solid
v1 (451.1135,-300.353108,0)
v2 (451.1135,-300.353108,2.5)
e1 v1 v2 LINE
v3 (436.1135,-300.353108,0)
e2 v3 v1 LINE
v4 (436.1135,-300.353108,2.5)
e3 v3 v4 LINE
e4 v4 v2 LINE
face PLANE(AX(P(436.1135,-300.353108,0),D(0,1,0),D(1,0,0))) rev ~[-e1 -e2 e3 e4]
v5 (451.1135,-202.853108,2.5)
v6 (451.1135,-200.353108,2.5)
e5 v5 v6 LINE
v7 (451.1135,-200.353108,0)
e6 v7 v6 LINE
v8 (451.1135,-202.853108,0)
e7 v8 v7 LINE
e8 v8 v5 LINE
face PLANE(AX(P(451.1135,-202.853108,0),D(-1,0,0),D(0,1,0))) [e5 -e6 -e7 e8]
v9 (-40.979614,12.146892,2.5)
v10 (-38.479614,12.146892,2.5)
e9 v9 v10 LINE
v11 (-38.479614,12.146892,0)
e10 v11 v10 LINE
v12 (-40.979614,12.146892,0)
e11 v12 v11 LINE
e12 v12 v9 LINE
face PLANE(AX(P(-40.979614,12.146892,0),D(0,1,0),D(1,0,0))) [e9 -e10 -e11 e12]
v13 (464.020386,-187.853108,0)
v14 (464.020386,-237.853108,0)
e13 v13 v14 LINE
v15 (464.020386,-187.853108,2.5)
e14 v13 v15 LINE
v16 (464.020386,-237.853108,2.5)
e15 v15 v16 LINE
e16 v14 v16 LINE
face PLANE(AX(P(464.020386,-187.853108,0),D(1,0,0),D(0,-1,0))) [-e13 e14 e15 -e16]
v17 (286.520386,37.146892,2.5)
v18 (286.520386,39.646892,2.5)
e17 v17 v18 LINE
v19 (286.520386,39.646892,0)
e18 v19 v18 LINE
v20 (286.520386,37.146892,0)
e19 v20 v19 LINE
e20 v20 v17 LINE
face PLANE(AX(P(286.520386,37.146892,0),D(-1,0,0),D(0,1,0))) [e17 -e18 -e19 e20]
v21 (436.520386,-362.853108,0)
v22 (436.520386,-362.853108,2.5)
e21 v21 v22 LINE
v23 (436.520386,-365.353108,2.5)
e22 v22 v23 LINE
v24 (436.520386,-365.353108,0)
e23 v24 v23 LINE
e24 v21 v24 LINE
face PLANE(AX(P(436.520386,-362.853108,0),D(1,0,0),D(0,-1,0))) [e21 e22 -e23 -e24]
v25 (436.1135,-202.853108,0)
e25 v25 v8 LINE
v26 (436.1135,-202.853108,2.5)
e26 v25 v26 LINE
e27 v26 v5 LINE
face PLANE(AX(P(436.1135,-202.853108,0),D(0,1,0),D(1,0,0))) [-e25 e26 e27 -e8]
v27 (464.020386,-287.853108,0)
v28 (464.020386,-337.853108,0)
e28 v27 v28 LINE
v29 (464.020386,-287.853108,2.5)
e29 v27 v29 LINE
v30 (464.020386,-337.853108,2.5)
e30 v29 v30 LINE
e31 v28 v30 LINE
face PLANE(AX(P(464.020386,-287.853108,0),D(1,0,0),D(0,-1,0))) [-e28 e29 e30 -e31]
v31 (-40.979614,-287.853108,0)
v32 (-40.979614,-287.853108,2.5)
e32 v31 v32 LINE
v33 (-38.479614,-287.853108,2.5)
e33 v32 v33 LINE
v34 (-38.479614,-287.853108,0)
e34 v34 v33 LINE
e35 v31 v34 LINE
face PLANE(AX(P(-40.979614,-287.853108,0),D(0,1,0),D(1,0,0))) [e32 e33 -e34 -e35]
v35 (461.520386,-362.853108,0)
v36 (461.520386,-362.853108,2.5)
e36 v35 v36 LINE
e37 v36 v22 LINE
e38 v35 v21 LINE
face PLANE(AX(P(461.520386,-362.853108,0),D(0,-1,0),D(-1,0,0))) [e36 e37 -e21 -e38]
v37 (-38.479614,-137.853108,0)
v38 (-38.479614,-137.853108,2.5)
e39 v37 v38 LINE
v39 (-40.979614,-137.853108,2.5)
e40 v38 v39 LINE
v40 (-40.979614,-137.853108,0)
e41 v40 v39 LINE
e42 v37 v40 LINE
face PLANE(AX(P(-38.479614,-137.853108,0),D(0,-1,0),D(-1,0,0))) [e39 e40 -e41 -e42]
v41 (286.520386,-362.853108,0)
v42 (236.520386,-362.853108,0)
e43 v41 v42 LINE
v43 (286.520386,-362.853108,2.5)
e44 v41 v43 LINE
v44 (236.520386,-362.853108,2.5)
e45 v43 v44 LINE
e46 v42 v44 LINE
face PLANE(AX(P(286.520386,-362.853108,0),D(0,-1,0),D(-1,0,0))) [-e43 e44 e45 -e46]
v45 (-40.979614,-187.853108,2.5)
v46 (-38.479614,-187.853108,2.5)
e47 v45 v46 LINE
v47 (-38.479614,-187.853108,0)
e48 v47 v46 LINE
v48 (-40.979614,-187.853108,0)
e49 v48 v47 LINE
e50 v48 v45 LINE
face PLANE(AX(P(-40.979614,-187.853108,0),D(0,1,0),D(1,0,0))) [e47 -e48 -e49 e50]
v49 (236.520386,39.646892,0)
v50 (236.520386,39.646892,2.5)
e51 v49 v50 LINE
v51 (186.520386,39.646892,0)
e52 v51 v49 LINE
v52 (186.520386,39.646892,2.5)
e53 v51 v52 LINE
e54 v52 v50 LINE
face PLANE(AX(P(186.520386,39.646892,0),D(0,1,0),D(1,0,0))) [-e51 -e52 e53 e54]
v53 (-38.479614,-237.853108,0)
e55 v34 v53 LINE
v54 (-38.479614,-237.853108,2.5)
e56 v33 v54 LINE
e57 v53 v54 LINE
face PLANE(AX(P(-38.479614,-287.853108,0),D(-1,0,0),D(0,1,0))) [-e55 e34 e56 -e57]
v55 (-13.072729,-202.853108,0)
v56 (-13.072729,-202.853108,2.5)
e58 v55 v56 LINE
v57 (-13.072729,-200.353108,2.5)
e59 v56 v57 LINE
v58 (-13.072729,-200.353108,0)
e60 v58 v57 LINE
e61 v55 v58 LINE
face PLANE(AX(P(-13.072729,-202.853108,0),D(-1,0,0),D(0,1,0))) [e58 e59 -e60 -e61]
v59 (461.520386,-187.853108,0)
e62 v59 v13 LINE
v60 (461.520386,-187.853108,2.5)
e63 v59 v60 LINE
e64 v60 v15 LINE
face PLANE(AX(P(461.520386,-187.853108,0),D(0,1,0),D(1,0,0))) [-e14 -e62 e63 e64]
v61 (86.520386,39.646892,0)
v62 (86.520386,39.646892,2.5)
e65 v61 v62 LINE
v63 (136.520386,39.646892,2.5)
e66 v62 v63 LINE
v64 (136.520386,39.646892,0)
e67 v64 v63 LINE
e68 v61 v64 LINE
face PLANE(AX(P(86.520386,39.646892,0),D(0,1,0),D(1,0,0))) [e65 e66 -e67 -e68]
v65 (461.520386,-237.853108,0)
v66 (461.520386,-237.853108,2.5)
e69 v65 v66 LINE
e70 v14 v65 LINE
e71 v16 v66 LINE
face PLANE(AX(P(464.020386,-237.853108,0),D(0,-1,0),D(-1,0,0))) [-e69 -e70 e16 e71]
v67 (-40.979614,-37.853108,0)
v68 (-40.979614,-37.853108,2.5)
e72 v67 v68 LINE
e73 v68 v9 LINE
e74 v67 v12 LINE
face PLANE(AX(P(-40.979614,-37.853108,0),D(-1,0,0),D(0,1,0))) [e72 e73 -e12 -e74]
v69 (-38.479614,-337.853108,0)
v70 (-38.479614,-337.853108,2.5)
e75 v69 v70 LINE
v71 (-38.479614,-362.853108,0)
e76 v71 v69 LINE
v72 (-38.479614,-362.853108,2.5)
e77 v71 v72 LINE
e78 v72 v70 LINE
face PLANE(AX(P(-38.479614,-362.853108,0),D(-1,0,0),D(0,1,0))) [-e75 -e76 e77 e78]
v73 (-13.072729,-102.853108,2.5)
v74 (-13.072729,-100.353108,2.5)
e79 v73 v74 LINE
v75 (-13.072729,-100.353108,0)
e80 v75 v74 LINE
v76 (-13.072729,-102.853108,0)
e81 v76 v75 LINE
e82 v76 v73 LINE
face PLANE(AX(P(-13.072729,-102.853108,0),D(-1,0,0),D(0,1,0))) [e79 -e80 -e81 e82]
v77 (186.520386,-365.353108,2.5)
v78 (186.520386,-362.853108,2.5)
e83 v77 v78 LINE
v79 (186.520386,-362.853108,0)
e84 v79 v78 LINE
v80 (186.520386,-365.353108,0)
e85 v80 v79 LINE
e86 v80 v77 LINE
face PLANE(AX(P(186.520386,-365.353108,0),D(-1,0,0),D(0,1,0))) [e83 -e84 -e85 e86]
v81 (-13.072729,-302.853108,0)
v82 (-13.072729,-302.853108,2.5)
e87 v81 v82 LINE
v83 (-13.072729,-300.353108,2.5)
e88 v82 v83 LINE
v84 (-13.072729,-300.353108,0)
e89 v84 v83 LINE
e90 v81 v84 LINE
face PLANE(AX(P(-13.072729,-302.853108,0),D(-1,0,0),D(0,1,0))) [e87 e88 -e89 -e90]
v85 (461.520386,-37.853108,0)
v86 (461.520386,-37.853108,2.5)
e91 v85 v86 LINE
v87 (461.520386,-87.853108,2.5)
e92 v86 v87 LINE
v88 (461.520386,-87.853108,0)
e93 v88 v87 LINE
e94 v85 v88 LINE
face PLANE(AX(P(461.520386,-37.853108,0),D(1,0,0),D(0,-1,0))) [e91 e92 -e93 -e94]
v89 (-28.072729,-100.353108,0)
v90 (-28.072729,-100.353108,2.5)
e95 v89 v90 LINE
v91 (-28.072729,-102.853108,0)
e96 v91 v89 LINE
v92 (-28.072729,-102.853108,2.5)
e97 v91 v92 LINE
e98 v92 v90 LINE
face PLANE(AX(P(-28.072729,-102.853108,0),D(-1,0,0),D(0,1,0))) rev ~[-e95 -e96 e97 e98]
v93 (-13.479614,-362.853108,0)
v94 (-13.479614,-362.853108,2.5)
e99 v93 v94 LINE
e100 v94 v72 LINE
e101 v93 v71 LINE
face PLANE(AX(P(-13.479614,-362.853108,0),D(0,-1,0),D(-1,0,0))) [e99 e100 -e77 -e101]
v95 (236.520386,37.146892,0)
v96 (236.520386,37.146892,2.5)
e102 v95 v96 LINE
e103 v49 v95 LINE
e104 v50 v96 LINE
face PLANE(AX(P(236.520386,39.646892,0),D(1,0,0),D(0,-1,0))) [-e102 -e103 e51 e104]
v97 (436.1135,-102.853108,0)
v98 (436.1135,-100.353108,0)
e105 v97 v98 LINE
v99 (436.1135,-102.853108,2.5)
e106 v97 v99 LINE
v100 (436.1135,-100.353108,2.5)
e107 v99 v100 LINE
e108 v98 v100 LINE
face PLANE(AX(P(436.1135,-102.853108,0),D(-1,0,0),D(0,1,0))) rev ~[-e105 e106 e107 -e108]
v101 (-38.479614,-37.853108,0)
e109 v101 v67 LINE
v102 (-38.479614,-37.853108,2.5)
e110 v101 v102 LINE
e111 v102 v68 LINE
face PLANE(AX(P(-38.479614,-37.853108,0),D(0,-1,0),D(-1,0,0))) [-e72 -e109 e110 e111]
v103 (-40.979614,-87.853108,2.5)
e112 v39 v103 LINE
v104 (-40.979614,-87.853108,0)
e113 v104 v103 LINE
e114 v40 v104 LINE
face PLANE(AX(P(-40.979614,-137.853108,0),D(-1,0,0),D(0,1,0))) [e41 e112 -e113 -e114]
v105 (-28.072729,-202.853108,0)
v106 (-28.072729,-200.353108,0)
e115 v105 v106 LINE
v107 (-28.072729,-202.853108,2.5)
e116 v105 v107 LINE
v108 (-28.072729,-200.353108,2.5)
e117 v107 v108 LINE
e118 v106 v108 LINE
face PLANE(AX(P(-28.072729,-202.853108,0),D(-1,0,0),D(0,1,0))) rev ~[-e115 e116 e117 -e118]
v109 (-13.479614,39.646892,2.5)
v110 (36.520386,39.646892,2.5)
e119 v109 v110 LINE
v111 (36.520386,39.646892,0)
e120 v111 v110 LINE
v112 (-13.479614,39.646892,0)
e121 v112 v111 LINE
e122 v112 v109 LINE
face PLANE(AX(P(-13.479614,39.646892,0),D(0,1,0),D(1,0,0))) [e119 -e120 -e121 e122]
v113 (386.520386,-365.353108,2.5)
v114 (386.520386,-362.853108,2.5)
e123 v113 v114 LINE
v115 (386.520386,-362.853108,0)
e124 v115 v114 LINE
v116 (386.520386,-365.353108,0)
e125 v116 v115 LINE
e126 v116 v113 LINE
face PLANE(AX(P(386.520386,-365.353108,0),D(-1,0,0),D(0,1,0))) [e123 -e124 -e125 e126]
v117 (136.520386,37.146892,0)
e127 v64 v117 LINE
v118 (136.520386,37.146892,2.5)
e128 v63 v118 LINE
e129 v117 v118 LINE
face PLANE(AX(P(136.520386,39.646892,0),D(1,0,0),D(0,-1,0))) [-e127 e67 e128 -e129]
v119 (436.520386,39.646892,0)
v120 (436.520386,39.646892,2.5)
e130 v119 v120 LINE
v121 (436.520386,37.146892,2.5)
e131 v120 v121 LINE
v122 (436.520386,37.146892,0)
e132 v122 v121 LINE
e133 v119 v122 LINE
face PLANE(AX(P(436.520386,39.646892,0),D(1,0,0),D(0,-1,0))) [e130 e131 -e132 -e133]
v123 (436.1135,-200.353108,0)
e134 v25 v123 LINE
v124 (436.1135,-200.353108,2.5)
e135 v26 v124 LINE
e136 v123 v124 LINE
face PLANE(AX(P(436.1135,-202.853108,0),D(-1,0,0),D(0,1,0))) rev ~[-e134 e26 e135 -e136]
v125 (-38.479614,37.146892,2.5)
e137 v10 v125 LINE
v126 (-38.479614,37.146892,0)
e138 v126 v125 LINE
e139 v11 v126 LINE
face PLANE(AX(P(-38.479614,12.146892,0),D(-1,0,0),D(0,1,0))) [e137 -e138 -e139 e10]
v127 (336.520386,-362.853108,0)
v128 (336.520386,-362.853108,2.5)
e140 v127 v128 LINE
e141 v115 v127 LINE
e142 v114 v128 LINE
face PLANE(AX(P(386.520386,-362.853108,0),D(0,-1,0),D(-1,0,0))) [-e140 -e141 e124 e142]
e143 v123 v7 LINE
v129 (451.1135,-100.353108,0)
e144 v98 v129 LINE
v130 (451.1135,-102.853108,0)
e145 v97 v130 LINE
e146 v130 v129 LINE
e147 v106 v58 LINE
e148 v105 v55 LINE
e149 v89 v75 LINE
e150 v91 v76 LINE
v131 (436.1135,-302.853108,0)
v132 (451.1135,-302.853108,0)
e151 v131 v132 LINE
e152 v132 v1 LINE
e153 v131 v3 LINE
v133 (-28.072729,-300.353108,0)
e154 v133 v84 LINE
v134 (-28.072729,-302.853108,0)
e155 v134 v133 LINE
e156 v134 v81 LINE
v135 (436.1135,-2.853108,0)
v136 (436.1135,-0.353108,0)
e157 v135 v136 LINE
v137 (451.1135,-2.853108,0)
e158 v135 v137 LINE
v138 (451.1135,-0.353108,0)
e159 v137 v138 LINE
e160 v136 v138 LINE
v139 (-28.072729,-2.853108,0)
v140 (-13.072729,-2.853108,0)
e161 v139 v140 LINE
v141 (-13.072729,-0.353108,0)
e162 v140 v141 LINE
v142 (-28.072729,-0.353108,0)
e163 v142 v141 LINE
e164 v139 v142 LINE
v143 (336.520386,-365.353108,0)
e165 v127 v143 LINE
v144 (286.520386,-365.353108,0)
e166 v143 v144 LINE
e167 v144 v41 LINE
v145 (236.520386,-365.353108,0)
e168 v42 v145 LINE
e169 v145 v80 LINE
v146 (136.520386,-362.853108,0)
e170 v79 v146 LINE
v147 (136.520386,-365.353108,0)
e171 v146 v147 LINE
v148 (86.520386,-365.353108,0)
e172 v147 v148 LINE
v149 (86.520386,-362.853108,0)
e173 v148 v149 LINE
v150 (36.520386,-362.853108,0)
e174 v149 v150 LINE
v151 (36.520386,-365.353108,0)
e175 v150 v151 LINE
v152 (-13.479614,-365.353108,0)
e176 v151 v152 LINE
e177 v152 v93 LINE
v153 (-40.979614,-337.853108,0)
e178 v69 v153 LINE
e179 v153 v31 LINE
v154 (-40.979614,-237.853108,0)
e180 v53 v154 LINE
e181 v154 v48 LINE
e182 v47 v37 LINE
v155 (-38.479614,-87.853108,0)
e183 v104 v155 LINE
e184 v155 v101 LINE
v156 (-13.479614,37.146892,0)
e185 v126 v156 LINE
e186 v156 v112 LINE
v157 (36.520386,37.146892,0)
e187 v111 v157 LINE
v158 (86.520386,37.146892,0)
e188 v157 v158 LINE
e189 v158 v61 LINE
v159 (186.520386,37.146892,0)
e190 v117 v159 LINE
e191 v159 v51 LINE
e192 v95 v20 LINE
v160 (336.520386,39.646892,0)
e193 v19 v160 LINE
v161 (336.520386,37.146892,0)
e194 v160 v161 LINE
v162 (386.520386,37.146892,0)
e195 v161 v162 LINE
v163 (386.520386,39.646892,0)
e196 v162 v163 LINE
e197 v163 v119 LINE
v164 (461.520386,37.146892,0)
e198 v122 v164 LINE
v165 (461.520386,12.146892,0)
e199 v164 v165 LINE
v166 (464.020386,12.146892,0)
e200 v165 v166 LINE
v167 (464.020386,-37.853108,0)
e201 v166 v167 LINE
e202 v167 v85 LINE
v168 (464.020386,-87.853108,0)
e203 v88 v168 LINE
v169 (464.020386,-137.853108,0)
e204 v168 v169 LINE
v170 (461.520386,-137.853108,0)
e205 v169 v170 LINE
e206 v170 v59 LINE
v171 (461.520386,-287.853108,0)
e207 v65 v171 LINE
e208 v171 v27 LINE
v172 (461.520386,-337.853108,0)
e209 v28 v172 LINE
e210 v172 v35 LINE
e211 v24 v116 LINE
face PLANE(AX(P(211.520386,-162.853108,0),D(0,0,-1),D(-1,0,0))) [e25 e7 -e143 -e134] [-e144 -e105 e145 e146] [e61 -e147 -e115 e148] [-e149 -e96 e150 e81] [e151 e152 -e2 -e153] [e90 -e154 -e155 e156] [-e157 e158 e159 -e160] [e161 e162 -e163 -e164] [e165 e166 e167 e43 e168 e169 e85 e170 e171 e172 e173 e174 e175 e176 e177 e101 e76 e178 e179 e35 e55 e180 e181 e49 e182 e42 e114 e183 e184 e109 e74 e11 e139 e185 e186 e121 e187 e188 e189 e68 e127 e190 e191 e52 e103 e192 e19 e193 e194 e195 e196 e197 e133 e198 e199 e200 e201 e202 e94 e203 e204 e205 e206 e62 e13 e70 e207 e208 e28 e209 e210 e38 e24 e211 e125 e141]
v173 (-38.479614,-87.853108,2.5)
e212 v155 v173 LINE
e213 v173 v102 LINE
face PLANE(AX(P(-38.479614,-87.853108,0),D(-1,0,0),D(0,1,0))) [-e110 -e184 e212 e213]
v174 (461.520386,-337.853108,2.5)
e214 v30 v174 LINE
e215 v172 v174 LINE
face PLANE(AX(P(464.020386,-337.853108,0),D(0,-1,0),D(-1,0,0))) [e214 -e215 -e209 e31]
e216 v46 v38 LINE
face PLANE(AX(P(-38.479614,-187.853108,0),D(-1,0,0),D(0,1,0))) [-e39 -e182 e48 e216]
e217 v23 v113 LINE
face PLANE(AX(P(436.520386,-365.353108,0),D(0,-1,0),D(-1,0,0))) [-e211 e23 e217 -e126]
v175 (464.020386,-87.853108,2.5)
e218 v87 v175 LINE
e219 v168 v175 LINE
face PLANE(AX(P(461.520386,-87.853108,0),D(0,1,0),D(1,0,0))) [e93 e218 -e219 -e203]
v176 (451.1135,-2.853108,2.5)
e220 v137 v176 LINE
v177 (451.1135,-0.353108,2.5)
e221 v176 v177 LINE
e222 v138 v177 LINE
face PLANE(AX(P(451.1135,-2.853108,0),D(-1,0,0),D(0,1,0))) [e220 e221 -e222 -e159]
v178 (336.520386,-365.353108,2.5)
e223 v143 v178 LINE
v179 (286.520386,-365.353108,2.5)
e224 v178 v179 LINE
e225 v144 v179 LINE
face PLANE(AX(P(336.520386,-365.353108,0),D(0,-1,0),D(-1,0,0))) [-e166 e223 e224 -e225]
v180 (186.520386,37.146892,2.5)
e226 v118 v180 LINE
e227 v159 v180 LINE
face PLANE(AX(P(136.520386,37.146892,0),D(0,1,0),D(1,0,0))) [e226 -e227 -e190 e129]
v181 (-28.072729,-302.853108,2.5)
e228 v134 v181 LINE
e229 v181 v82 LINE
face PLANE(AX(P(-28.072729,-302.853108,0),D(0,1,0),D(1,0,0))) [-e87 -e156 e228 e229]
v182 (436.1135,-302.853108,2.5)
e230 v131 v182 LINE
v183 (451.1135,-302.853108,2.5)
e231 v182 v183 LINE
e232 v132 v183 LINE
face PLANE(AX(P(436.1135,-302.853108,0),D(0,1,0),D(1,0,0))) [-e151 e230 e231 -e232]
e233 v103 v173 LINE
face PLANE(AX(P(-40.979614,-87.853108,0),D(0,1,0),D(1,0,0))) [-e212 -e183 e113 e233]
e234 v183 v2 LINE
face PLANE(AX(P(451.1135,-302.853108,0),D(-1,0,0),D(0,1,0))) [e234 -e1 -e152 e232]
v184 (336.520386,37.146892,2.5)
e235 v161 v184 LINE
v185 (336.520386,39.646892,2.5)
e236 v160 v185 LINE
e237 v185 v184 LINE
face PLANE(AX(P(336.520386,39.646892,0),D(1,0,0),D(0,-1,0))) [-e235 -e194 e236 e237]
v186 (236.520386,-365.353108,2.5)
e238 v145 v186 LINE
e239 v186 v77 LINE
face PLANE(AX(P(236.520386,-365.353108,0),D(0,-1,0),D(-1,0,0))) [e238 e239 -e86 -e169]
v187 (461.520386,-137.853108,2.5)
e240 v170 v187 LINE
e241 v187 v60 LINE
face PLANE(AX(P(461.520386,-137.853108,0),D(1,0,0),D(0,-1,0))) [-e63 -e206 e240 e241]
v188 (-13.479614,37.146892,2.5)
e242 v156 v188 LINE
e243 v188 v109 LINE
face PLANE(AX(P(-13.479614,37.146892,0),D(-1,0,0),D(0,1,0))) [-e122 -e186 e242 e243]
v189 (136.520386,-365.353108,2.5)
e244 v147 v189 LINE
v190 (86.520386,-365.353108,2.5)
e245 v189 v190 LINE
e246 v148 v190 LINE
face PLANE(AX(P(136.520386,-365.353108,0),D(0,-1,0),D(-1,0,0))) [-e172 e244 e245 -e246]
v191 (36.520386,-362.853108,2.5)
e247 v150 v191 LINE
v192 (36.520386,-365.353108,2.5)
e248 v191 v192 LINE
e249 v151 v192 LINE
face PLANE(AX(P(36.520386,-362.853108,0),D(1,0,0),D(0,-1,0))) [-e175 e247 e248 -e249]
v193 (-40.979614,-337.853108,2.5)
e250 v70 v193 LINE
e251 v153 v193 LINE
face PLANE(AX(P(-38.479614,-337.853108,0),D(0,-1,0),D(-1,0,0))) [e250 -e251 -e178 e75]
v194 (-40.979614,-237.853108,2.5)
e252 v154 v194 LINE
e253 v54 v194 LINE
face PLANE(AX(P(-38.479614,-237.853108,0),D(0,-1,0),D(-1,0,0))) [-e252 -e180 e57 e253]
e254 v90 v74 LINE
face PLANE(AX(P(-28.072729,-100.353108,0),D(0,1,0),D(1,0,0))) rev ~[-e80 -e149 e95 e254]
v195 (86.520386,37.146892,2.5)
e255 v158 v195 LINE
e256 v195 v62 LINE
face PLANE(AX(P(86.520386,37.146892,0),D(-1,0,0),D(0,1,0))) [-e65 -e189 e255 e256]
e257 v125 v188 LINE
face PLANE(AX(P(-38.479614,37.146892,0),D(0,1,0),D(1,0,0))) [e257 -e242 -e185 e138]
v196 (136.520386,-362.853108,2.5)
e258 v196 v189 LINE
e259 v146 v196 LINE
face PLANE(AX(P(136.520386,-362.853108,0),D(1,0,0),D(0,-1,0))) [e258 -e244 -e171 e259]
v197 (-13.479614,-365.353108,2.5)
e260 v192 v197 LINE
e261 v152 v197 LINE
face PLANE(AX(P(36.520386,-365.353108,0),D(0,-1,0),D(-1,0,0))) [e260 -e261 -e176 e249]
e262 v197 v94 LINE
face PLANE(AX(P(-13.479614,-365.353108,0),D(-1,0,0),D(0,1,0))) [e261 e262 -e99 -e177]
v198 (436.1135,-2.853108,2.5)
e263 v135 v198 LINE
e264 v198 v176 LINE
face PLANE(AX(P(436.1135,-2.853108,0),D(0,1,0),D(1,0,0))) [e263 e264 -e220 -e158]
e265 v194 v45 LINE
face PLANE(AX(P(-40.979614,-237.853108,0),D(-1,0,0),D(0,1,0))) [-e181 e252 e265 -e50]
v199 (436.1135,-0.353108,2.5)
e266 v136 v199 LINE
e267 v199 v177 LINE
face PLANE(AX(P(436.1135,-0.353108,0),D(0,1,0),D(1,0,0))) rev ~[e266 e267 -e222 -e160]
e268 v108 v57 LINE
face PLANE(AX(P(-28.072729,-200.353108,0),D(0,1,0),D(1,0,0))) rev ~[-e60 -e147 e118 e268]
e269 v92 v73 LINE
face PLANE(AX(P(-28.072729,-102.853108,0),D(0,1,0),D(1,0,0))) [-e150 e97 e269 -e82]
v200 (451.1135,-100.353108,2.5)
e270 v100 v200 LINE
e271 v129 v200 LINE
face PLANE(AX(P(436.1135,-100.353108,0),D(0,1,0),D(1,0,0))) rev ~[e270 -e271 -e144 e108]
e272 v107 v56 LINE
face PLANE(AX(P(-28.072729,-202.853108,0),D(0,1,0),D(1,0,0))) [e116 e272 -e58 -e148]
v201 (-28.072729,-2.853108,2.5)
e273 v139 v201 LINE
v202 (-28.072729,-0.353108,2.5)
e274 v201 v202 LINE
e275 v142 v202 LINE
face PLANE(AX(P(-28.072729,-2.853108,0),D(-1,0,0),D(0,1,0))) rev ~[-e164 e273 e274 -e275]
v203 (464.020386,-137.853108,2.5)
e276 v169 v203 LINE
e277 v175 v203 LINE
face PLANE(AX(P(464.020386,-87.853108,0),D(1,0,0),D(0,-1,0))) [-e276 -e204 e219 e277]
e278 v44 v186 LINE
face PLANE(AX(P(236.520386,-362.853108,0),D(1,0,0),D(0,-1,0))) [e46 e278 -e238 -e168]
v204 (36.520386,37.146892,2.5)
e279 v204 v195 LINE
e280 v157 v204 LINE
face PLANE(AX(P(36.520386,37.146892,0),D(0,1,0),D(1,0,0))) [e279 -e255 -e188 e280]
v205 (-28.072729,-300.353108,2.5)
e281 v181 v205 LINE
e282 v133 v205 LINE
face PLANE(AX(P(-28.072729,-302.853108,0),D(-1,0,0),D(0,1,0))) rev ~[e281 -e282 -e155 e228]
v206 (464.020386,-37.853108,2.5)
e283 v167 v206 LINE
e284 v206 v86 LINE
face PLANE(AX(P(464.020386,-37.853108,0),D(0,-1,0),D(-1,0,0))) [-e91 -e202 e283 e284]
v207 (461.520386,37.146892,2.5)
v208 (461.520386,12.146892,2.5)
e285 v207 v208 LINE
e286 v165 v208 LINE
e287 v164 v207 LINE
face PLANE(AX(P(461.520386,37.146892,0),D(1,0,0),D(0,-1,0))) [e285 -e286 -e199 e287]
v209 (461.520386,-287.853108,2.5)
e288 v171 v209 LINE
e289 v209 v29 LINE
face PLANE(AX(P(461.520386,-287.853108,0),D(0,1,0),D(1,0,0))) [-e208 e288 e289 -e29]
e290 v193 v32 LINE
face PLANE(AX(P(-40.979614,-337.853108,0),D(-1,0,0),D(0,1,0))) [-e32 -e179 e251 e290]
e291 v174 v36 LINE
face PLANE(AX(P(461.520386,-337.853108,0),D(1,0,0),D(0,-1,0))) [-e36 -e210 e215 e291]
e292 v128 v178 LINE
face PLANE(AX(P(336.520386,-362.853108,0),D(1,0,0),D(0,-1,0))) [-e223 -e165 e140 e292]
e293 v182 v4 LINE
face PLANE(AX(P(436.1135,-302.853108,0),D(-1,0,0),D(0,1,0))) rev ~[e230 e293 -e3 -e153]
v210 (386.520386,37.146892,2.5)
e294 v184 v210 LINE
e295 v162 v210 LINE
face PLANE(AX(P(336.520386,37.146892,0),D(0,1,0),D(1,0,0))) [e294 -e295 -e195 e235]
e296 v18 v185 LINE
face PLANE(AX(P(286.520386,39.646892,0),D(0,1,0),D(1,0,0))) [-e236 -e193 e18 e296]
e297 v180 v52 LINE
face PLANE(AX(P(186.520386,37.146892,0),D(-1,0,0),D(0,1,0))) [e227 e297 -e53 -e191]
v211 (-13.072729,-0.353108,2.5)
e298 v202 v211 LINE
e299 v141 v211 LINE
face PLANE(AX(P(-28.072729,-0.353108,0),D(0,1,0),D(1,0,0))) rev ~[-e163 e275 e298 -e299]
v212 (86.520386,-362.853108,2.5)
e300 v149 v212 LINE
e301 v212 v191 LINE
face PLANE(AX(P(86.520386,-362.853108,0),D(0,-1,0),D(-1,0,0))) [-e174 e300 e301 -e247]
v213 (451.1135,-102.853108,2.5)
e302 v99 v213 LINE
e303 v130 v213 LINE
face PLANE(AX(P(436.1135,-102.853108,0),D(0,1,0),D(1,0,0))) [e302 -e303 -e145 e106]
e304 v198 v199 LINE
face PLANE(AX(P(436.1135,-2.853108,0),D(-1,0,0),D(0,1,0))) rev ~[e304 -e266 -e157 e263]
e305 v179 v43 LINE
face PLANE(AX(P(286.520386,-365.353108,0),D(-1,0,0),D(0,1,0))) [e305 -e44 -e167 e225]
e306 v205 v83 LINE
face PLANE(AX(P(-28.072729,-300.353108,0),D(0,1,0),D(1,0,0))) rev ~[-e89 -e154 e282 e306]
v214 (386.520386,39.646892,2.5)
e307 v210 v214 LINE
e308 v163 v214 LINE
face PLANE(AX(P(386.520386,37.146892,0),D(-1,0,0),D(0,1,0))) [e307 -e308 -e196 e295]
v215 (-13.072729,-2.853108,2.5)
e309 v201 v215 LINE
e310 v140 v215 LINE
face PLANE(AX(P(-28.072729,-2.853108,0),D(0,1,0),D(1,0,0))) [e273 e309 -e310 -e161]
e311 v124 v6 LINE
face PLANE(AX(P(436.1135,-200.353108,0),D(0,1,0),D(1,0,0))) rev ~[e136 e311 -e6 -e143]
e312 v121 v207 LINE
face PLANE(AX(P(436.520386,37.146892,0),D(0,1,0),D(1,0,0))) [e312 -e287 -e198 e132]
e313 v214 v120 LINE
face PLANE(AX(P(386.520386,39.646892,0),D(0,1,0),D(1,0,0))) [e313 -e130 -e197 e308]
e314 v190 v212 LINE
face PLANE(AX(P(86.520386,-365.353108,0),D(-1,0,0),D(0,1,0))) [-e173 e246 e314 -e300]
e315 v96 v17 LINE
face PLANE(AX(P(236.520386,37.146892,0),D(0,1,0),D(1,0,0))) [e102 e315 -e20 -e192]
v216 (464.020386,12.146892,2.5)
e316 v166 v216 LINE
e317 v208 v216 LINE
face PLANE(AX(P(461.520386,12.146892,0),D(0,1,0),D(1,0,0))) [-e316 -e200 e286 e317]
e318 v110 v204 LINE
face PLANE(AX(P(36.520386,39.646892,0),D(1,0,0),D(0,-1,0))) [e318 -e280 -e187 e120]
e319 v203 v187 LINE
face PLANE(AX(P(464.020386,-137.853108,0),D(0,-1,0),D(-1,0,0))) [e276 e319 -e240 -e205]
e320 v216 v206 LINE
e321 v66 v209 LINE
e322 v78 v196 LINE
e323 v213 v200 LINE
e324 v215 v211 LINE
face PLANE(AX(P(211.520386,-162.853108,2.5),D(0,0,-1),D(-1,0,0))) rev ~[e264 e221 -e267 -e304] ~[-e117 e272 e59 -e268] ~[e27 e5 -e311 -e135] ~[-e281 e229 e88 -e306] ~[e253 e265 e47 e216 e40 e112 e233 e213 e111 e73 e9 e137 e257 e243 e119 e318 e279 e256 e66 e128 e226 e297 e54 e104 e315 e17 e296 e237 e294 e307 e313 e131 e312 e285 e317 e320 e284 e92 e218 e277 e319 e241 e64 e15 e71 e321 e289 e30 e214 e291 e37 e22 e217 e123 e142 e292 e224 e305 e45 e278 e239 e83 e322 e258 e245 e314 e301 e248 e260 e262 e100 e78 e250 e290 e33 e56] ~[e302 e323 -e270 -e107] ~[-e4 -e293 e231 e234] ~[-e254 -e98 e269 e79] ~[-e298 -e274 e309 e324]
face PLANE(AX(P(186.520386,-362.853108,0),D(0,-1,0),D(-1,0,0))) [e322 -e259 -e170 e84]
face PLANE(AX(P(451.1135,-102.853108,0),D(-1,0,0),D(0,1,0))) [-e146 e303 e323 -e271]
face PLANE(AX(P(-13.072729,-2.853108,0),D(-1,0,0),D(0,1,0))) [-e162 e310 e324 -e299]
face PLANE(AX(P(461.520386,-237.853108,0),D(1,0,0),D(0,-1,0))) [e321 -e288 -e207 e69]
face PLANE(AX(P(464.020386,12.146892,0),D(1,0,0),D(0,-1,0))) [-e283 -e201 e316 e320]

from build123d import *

# Parameters (mm, degrees)
SKETCH1_W               = 15
SKETCH1_H               = 2.5
F_50X40_TOP_PLANE_DEPTH = 2.5


with BuildPart() as part:
    # Sketch1 → 50X40 top plane (new body)
    with BuildSketch(Plane.XY):
        Polygon((86.520385927, 37.146891895), (86.520385927, 39.646891895), (136.520385927, 39.646891895), (136.520385927, 37.146891895), (186.520385927, 37.146891895), (186.520385927, 39.646891895), (236.520385927, 39.646891895), (236.520385927, 37.146891895), (286.520385927, 37.146891895), (286.520385927, 39.646891895), (336.520385927, 39.646891895), (336.520385927, 37.146891895), (386.520385927, 37.146891895), (386.520385927, 39.646891895), (436.520385927, 39.646891895), (436.520385927, 37.146891895), (461.520385927, 37.146891895), (461.520385927, 12.146891895), (464.020385927, 12.146891895), (464.020385927, -37.853108105), (461.520385927, -37.853108105), (461.520385927, -87.853108105), (464.020385927, -87.853108105), (464.020385927, -137.853108105), (461.520385927, -137.853108105), (461.520385927, -187.853108105), (464.020385927, -187.853108105), (464.020385927, -237.853108105), (461.520385927, -237.853108105), (461.520385927, -287.853108105), (464.020385927, -287.853108105), (464.020385927, -337.853108105), (461.520385927, -337.853108105), (461.520385927, -362.853108105), (436.520385927, -362.853108105), (436.520385927, -365.353108105), (386.520385927, -365.353108105), (386.520385927, -362.853108105), (336.520385927, -362.853108105), (336.520385927, -365.353108105), (286.520385927, -365.353108105), (286.520385927, -362.853108105), (236.520385927, -362.853108105), (236.520385927, -365.353108105), (186.520385927, -365.353108105), (186.520385927, -362.853108105), (136.520385927, -362.853108105), (136.520385927, -365.353108105), (86.520385927, -365.353108105), (86.520385927, -362.853108105), (36.520385927, -362.853108105), (36.520385927, -365.353108105), (-13.479614073, -365.353108105), (-13.479614073, -362.853108105), (-38.479614073, -362.853108105), (-38.479614073, -337.853108105), (-40.979614073, -337.853108105), (-40.979614073, -287.853108105), (-38.479614073, -287.853108105), (-38.479614073, -237.853108105), (-40.979614073, -237.853108105), (-40.979614073, -187.853108105), (-38.479614073, -187.853108105), (-38.479614073, -137.853108105), (-40.979614073, -137.853108105), (-40.979614073, -87.853108105), (-38.479614073, -87.853108105), (-38.479614073, -37.853108105), (-40.979614073, -37.853108105), (-40.979614073, 12.146891895), (-38.479614073, 12.146891895), (-38.479614073, 37.146891895), (-13.479614073, 37.146891895), (-13.479614073, 39.646891895), (36.520385927, 39.646891895), (36.520385927, 37.146891895), align=None)
        with Locations((443.61350048, -101.603108105)):
            Rectangle(SKETCH1_W, SKETCH1_H, mode=Mode.SUBTRACT)
        with Locations((443.61350048, -1.603108105)):
            Rectangle(SKETCH1_W, SKETCH1_H, mode=Mode.SUBTRACT)
        with Locations((443.61350048, -201.603108105)):
            Rectangle(SKETCH1_W, SKETCH1_H, mode=Mode.SUBTRACT)
        with Locations((443.61350048, -301.603108105)):
            Rectangle(SKETCH1_W, SKETCH1_H, mode=Mode.SUBTRACT)
        with Locations((-20.572728625, -301.603108105)):
            Rectangle(SKETCH1_W, SKETCH1_H, mode=Mode.SUBTRACT)
        with Locations((-20.572728625, -201.603108105)):
            Rectangle(SKETCH1_W, SKETCH1_H, mode=Mode.SUBTRACT)
        with Locations((-20.572728625, -101.603108105)):
            Rectangle(SKETCH1_W, SKETCH1_H, mode=Mode.SUBTRACT)
        with Locations((-20.572728625, -1.603108105)):
            Rectangle(SKETCH1_W, SKETCH1_H, mode=Mode.SUBTRACT)
    extrude(amount=F_50X40_TOP_PLANE_DEPTH)


solid = part.part
